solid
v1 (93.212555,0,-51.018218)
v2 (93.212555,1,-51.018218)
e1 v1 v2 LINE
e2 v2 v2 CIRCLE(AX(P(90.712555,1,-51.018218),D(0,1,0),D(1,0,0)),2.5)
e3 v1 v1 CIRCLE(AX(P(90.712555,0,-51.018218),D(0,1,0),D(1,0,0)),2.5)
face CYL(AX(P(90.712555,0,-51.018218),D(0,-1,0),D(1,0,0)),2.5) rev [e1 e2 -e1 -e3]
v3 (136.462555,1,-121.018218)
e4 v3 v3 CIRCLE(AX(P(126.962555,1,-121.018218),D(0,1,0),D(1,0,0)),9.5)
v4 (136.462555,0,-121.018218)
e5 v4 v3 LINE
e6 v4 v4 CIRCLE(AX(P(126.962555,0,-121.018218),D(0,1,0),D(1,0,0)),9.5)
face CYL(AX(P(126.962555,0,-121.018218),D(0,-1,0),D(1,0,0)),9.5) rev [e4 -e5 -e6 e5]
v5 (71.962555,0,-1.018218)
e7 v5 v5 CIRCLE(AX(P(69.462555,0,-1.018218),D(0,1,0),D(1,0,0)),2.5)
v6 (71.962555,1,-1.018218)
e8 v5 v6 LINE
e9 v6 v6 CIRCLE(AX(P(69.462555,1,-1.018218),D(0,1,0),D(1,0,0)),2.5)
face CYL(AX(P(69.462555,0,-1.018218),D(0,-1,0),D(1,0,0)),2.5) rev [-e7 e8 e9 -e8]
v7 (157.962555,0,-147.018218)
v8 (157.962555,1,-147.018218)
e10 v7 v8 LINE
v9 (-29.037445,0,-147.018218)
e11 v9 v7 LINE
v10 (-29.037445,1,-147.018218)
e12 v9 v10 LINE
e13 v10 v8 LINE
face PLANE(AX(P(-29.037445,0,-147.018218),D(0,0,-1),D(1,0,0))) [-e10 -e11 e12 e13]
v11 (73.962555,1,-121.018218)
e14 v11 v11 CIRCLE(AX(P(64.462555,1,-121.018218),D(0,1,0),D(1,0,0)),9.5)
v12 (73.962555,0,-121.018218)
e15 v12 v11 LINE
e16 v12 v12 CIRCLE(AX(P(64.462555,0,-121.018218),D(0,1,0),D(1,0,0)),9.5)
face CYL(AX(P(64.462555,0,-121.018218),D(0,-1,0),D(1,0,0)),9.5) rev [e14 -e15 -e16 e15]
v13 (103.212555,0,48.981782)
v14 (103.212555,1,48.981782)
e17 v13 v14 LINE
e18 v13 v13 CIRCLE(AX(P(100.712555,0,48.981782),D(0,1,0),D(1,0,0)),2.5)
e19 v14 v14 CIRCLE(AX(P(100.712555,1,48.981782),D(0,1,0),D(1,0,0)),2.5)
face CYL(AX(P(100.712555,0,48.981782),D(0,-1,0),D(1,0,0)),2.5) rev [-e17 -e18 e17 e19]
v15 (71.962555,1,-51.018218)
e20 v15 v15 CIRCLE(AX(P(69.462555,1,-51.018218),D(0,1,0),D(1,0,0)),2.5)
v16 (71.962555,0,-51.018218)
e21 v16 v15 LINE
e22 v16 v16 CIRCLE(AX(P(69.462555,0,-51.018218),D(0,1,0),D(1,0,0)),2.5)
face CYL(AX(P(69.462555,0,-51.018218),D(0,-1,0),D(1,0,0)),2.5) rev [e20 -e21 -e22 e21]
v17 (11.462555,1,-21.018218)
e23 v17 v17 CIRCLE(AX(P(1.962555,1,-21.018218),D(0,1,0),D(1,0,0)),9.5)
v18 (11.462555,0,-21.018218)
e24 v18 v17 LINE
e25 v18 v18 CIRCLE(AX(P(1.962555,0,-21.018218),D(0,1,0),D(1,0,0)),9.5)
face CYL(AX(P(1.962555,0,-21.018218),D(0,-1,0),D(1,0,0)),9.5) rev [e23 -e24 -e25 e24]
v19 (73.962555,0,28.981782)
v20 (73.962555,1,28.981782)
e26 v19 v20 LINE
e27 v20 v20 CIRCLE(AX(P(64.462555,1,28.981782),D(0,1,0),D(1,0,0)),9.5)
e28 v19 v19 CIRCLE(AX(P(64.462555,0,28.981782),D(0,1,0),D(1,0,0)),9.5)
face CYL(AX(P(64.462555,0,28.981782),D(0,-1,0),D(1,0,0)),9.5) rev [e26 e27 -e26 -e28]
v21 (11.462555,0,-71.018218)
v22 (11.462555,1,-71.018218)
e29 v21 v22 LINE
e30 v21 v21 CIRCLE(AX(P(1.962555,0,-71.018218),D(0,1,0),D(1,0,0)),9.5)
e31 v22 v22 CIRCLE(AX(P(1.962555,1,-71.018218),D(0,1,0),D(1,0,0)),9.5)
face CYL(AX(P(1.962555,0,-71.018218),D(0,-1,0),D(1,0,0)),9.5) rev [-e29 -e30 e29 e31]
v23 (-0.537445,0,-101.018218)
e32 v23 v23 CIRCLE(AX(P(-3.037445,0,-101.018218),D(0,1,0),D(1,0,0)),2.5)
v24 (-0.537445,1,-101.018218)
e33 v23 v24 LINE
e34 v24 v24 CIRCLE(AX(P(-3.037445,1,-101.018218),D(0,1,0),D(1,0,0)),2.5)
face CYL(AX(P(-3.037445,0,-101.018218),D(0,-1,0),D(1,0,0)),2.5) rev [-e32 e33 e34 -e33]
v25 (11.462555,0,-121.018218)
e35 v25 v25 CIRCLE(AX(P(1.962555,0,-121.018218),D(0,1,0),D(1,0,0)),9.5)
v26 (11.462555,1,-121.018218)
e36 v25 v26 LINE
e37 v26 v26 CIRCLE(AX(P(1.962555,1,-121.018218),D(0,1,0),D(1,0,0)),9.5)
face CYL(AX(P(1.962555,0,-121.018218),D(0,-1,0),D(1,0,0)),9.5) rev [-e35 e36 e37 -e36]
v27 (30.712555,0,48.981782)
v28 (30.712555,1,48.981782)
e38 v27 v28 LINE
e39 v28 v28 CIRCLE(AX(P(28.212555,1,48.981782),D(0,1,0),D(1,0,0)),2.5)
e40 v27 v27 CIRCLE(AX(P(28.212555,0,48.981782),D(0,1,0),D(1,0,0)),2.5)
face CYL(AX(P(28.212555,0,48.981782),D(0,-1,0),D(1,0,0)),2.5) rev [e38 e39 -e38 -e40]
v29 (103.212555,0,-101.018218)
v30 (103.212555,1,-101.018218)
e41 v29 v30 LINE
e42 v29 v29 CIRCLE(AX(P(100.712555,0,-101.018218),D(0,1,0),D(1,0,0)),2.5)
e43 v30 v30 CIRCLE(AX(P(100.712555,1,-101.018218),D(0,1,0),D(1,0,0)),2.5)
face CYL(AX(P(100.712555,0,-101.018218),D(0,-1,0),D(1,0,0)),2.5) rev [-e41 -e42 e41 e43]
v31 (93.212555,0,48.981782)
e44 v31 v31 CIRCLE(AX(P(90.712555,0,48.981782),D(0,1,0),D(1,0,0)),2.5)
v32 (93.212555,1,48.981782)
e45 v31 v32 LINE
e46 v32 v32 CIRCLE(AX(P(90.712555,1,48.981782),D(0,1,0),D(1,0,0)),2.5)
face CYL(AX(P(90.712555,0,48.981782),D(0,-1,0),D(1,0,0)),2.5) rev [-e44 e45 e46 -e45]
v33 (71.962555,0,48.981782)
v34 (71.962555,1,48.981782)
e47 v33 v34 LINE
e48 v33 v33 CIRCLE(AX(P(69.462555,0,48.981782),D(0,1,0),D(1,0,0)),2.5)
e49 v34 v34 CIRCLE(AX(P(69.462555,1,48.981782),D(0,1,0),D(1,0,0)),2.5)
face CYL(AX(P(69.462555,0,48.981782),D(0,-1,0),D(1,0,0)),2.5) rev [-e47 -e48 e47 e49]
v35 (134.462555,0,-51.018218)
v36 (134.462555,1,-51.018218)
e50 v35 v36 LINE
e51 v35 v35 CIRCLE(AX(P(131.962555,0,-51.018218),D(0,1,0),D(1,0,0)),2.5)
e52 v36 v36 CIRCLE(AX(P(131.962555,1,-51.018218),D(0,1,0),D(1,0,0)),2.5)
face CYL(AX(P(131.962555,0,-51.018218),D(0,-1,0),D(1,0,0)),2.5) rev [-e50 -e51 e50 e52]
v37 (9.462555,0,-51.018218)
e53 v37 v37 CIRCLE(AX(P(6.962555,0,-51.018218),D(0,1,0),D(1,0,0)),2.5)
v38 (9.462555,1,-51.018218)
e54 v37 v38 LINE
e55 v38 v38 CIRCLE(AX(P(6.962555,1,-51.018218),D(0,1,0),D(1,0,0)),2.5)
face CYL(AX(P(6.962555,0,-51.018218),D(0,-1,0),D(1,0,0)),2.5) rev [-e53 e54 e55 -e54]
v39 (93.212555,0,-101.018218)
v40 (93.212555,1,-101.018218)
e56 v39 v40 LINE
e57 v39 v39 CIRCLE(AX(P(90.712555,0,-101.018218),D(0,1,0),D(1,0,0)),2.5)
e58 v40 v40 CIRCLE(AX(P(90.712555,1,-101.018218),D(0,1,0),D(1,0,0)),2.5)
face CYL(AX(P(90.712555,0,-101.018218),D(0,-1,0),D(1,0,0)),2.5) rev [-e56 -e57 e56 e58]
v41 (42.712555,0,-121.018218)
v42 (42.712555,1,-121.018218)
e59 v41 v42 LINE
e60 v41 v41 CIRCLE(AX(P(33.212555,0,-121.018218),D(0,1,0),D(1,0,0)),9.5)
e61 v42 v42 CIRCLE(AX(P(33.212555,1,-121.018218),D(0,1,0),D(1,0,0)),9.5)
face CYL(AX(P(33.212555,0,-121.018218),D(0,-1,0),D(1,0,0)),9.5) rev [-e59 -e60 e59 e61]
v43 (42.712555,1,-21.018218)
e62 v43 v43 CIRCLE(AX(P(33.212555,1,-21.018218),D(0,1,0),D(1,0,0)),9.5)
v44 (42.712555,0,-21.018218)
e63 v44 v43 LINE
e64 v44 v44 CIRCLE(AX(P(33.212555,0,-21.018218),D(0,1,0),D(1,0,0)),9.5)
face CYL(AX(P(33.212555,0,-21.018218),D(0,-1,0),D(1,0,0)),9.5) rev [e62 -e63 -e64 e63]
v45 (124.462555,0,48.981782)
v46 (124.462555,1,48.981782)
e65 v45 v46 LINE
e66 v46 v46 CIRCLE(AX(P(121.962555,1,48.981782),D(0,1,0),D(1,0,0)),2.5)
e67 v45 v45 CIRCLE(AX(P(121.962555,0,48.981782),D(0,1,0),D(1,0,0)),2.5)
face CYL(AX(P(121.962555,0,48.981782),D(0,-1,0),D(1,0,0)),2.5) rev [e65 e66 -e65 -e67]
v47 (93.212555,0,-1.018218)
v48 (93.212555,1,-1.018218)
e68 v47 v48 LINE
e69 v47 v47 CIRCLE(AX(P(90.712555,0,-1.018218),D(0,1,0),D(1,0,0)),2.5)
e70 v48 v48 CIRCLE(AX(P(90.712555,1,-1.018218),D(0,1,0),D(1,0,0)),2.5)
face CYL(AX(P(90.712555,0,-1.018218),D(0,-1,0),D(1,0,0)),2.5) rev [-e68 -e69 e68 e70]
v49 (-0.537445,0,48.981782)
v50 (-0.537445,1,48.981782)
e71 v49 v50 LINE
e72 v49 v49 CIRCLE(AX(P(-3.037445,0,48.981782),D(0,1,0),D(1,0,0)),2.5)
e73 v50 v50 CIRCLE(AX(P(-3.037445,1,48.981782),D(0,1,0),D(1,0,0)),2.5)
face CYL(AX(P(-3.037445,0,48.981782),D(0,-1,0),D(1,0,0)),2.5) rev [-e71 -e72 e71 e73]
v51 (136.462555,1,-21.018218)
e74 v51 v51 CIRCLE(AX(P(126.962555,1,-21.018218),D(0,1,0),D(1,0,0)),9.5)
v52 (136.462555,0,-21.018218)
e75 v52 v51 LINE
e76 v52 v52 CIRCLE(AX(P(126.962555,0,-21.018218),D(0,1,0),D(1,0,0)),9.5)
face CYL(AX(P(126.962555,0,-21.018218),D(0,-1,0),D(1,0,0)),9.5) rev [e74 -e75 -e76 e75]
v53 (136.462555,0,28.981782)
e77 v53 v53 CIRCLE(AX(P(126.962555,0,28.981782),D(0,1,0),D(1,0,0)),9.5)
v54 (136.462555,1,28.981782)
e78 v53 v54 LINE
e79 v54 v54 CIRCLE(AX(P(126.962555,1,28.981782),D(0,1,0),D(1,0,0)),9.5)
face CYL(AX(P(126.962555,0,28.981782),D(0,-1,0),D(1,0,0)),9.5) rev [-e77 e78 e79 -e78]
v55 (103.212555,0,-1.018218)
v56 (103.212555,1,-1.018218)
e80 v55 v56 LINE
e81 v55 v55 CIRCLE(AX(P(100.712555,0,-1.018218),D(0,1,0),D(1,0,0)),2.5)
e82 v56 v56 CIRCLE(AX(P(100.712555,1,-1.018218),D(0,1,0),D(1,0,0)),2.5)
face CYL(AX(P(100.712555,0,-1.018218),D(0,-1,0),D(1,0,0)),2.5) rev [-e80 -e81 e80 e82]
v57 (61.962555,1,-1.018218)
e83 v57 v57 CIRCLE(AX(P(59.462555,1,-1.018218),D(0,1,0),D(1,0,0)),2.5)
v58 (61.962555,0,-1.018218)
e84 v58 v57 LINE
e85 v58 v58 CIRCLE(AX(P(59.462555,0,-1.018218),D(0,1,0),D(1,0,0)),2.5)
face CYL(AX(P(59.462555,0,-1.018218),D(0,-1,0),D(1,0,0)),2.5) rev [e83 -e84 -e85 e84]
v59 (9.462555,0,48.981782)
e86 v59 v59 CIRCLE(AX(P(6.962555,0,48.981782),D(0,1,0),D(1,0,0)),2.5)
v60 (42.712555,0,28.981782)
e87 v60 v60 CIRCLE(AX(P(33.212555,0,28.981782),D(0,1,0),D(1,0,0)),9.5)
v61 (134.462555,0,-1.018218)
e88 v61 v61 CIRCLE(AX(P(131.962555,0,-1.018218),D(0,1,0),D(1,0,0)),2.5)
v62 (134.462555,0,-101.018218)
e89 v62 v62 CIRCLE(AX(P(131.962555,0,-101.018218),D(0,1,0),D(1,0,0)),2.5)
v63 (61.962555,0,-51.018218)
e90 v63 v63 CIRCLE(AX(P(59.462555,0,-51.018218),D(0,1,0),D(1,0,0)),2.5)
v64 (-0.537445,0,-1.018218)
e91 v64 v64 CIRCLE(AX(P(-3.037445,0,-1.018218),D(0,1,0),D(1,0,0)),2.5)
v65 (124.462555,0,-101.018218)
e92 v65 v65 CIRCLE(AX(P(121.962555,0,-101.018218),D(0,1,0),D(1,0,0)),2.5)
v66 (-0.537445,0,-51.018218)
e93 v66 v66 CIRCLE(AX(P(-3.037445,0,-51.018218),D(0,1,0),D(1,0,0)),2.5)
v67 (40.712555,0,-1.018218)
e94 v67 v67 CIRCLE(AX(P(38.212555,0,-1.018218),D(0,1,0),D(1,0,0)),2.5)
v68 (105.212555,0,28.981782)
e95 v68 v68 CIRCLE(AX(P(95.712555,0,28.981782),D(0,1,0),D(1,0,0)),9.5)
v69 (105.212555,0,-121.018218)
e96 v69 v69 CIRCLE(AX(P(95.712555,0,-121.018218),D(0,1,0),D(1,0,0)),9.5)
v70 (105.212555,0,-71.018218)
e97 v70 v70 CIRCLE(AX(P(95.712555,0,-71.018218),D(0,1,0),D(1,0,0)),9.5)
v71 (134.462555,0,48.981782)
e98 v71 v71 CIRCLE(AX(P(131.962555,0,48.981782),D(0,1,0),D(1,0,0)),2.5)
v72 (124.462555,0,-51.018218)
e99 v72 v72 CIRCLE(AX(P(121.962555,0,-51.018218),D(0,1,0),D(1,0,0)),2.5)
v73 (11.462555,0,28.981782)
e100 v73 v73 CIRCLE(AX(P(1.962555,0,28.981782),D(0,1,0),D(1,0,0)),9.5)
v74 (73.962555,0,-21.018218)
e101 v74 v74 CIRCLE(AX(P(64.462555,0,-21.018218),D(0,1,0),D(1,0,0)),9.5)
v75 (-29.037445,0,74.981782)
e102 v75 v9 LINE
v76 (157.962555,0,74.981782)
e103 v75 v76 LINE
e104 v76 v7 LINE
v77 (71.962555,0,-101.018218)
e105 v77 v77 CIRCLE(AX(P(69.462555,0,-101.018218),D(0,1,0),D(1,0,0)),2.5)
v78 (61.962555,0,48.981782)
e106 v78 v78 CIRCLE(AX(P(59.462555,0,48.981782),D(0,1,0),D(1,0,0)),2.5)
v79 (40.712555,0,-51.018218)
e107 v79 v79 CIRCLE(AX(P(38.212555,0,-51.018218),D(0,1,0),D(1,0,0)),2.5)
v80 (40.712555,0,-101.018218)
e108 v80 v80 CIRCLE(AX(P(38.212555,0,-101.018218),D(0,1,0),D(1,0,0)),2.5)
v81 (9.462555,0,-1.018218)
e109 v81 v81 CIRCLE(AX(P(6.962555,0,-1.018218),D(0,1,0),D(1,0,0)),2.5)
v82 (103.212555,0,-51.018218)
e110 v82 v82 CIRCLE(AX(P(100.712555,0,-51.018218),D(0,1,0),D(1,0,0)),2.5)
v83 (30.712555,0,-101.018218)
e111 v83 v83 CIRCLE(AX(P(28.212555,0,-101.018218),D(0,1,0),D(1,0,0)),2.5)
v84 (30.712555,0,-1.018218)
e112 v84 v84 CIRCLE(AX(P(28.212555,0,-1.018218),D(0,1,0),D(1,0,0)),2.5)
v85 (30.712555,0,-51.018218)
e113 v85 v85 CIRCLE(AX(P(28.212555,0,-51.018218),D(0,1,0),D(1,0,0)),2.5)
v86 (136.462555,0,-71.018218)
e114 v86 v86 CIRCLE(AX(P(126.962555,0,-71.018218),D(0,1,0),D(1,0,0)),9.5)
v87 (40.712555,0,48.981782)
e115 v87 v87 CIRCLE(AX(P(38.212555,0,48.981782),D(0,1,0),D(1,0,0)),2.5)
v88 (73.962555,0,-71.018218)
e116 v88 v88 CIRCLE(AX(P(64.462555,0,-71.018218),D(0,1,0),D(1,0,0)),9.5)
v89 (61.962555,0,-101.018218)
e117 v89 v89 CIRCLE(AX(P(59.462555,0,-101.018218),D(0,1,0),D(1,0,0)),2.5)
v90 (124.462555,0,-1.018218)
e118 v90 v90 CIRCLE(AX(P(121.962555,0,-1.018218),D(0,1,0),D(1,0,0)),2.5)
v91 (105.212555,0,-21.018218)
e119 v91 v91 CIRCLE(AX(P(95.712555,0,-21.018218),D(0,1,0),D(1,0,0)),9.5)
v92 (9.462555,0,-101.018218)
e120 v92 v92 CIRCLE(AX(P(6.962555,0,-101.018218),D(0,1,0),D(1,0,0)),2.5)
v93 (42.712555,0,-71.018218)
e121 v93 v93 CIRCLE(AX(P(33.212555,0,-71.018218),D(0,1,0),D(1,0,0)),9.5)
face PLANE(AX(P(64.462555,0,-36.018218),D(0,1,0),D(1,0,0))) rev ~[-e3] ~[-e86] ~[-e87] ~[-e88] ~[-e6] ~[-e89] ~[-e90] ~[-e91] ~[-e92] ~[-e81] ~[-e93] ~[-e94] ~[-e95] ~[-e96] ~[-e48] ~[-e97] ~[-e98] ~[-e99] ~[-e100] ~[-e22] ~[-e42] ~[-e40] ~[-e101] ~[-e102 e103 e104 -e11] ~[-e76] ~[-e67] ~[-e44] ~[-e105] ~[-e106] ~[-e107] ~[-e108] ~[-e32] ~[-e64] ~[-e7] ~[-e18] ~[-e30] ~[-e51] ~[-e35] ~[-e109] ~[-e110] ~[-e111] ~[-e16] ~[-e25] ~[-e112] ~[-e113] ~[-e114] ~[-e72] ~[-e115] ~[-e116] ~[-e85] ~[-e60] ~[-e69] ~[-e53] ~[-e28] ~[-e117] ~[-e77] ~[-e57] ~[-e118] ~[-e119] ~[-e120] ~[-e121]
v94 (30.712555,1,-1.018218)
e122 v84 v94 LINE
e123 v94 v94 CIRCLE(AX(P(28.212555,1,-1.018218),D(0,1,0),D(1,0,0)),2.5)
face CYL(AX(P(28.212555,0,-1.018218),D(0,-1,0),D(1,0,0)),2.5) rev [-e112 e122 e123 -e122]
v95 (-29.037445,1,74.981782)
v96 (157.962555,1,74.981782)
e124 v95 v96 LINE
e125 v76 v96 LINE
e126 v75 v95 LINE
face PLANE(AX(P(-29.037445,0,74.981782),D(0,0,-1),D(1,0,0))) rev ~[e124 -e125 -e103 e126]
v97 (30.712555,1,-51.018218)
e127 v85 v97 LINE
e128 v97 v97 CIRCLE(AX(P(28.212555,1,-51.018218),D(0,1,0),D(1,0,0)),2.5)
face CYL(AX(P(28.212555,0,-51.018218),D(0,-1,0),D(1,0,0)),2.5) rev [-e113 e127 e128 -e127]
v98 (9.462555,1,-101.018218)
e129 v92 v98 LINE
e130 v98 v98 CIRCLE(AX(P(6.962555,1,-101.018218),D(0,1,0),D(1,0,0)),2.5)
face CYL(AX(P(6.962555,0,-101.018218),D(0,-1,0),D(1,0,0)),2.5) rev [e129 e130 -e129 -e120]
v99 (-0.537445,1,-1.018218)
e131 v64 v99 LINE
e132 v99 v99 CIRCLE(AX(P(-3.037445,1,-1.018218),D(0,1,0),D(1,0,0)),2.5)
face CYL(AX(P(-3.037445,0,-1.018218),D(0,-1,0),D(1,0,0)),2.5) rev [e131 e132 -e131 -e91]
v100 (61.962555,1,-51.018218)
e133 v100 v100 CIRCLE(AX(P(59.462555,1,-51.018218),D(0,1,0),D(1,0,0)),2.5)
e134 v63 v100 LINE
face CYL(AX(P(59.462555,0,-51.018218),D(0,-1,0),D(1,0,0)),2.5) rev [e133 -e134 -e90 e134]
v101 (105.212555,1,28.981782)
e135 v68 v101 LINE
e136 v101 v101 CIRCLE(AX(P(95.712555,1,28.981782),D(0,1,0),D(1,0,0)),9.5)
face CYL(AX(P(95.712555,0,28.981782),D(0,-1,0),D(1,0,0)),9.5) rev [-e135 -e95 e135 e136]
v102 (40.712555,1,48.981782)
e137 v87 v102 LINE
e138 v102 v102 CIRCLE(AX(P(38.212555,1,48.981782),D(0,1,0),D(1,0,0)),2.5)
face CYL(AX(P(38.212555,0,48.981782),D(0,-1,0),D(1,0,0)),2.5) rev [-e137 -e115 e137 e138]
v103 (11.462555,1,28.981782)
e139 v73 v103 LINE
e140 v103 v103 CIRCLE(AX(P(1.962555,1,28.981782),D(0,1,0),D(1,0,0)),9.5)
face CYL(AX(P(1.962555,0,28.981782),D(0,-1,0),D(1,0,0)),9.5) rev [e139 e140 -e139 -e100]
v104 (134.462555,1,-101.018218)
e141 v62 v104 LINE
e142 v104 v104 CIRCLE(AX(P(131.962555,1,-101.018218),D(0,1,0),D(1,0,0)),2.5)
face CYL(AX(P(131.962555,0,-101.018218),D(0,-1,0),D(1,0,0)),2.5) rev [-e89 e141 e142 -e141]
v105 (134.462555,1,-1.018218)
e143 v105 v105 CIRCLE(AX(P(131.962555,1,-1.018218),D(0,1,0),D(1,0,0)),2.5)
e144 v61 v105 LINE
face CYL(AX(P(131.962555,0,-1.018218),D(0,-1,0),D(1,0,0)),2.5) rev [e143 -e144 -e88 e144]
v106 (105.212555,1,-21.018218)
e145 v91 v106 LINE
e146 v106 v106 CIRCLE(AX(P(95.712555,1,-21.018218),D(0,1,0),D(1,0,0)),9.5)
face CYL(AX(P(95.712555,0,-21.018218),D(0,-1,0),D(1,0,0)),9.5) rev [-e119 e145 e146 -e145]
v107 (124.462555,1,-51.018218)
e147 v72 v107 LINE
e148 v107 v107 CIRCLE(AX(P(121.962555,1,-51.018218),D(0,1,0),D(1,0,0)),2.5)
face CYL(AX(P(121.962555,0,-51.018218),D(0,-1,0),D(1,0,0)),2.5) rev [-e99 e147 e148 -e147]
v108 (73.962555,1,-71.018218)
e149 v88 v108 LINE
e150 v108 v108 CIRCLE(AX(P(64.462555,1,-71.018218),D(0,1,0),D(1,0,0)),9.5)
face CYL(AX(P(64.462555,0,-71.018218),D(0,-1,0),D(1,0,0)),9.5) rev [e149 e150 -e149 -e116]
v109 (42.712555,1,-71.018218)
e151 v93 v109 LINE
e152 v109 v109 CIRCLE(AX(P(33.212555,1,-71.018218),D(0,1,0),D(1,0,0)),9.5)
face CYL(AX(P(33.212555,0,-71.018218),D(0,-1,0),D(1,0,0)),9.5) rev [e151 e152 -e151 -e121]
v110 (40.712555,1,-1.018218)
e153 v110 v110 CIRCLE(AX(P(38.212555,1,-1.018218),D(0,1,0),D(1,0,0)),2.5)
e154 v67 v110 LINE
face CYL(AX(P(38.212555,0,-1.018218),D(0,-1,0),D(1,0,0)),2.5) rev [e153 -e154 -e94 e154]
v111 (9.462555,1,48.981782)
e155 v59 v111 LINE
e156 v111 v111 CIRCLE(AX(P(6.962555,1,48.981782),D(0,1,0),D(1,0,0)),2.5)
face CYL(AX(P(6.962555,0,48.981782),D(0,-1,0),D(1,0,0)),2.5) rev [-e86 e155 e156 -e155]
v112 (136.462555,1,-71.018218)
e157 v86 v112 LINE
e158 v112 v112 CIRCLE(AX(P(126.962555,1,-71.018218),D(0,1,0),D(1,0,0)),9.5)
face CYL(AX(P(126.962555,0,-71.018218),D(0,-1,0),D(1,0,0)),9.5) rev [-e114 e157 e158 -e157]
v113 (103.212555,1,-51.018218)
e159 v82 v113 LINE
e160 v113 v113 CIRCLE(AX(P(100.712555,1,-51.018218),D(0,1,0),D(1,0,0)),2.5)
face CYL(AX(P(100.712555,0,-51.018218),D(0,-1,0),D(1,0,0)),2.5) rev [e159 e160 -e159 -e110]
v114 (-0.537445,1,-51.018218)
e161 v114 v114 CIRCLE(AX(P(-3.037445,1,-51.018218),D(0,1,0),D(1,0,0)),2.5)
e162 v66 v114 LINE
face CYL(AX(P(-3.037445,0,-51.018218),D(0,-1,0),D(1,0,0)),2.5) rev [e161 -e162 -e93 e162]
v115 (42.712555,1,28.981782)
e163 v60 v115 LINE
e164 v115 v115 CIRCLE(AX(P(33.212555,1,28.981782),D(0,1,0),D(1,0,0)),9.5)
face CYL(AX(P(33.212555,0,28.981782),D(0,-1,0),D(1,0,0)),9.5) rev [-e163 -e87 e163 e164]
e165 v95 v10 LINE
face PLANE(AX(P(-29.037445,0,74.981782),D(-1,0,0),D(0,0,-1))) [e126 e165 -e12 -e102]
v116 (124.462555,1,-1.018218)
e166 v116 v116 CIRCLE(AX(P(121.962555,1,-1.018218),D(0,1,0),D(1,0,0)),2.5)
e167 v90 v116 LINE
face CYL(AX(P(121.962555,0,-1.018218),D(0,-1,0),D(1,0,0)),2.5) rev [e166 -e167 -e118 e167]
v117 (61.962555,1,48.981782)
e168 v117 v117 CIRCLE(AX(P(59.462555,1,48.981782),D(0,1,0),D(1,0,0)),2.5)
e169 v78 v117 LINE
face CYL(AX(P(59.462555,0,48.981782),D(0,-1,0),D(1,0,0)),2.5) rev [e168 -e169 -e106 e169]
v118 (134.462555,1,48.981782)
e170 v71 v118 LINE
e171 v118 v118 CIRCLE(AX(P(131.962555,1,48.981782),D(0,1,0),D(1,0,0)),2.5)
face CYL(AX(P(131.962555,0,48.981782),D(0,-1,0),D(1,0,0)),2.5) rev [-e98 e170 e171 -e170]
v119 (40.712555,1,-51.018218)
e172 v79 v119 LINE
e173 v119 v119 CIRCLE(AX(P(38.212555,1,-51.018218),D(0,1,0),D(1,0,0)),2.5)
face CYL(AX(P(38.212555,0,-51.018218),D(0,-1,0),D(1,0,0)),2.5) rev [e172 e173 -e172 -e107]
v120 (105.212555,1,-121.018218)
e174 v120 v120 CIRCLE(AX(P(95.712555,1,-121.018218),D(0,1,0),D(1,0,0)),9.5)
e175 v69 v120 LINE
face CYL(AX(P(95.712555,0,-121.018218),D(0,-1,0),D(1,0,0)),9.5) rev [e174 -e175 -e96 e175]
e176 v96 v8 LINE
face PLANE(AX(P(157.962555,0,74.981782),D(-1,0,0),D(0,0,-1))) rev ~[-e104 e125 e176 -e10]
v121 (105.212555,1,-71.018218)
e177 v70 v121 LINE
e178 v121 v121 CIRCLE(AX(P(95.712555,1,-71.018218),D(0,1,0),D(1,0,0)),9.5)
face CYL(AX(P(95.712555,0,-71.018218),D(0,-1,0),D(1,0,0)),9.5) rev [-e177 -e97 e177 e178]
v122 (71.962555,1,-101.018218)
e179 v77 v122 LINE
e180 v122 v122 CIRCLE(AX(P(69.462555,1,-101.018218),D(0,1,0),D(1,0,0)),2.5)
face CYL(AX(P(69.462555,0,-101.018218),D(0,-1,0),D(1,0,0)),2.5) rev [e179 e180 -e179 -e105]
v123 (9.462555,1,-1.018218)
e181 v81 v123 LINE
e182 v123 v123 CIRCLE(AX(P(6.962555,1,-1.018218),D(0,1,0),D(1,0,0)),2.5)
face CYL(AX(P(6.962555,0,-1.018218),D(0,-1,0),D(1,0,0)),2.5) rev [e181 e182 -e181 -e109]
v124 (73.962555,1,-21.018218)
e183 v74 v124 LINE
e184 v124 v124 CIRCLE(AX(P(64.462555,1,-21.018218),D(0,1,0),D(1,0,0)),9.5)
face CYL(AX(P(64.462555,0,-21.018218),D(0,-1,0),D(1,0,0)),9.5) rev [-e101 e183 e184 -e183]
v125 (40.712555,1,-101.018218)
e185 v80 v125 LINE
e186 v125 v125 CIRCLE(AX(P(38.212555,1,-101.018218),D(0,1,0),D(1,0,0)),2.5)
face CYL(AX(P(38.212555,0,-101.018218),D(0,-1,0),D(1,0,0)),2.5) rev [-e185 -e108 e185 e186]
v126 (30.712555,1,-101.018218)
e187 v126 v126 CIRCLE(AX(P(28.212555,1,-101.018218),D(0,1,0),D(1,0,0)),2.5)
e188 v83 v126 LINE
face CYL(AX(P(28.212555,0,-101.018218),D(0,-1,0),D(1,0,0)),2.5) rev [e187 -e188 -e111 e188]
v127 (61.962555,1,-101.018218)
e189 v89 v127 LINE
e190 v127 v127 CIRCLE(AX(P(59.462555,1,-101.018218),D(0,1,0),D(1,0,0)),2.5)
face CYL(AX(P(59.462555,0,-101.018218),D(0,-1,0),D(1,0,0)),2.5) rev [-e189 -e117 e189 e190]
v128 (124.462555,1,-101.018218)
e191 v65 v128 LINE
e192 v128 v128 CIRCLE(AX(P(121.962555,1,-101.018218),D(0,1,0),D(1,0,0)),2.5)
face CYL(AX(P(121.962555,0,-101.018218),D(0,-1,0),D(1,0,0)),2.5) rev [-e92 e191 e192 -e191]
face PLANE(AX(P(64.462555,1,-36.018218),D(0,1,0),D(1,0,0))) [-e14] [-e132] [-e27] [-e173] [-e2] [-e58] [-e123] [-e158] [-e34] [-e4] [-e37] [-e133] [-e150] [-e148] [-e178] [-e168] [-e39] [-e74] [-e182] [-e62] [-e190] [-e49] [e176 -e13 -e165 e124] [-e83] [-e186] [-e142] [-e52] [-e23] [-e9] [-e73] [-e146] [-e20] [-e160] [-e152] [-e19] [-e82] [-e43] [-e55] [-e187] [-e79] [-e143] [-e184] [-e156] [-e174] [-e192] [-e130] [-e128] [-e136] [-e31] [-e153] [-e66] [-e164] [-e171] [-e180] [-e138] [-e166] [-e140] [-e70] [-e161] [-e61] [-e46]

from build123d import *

# Parameters (mm, degrees)
SKETCH1_W           = 187
SKETCH1_H           = 222
SKETCH1_R           = 2.5
SKETCH1_R_2         = 9.5
BOSS_EXTRUDE1_DEPTH = 1


with BuildPart() as part:
    # Sketch1 → Boss-Extrude1 (new body)
    with BuildSketch(Plane(origin=(0, 0, 0), x_dir=(1, 0, 0), z_dir=(0, 1, 0))):
        with Locations((64.462554676, 36.018217652)):
            Rectangle(SKETCH1_W, SKETCH1_H)
        with Locations((-3.037445324, -48.981782348)):
            Circle(SKETCH1_R, mode=Mode.SUBTRACT)
        with Locations((6.962554676, -48.981782348)):
            Circle(SKETCH1_R, mode=Mode.SUBTRACT)
        with Locations((28.212554676, -48.981782348)):
            Circle(SKETCH1_R, mode=Mode.SUBTRACT)
        with Locations((38.212554676, -48.981782348)):
            Circle(SKETCH1_R, mode=Mode.SUBTRACT)
        with Locations((1.962554676, -28.981782348)):
            Circle(SKETCH1_R_2, mode=Mode.SUBTRACT)
        with Locations((33.212554676, -28.981782348)):
            Circle(SKETCH1_R_2, mode=Mode.SUBTRACT)
        with Locations((59.462554676, -48.981782348)):
            Circle(SKETCH1_R, mode=Mode.SUBTRACT)
        with Locations((69.462554676, -48.981782348)):
            Circle(SKETCH1_R, mode=Mode.SUBTRACT)
        with Locations((64.462554676, -28.981782348)):
            Circle(SKETCH1_R_2, mode=Mode.SUBTRACT)
        with Locations((90.712554676, -48.981782348)):
            Circle(SKETCH1_R, mode=Mode.SUBTRACT)
        with Locations((100.712554676, -48.981782348)):
            Circle(SKETCH1_R, mode=Mode.SUBTRACT)
        with Locations((95.712554676, -28.981782348)):
            Circle(SKETCH1_R_2, mode=Mode.SUBTRACT)
        with Locations((121.962554676, -48.981782348)):
            Circle(SKETCH1_R, mode=Mode.SUBTRACT)
        with Locations((131.962554676, -48.981782348)):
            Circle(SKETCH1_R, mode=Mode.SUBTRACT)
        with Locations((126.962554676, -28.981782348)):
            Circle(SKETCH1_R_2, mode=Mode.SUBTRACT)
        with Locations((-3.037445324, 1.018217652)):
            Circle(SKETCH1_R, mode=Mode.SUBTRACT)
        with Locations((6.962554676, 1.018217652)):
            Circle(SKETCH1_R, mode=Mode.SUBTRACT)
        with Locations((1.962554676, 21.018217652)):
            Circle(SKETCH1_R_2, mode=Mode.SUBTRACT)
        with Locations((28.212554676, 1.018217652)):
            Circle(SKETCH1_R, mode=Mode.SUBTRACT)
        with Locations((38.212554676, 1.018217652)):
            Circle(SKETCH1_R, mode=Mode.SUBTRACT)
        with Locations((33.212554676, 21.018217652)):
            Circle(SKETCH1_R_2, mode=Mode.SUBTRACT)
        with Locations((59.462554676, 1.018217652)):
            Circle(SKETCH1_R, mode=Mode.SUBTRACT)
        with Locations((69.462554676, 1.018217652)):
            Circle(SKETCH1_R, mode=Mode.SUBTRACT)
        with Locations((64.462554676, 21.018217652)):
            Circle(SKETCH1_R_2, mode=Mode.SUBTRACT)
        with Locations((90.712554676, 1.018217652)):
            Circle(SKETCH1_R, mode=Mode.SUBTRACT)
        with Locations((100.712554676, 1.018217652)):
            Circle(SKETCH1_R, mode=Mode.SUBTRACT)
        with Locations((95.712554676, 21.018217652)):
            Circle(SKETCH1_R_2, mode=Mode.SUBTRACT)
        with Locations((121.962554676, 1.018217652)):
            Circle(SKETCH1_R, mode=Mode.SUBTRACT)
        with Locations((131.962554676, 1.018217652)):
            Circle(SKETCH1_R, mode=Mode.SUBTRACT)
        with Locations((126.962554676, 21.018217652)):
            Circle(SKETCH1_R_2, mode=Mode.SUBTRACT)
        with Locations((-3.037445324, 51.018217652)):
            Circle(SKETCH1_R, mode=Mode.SUBTRACT)
        with Locations((6.962554676, 51.018217652)):
            Circle(SKETCH1_R, mode=Mode.SUBTRACT)
        with Locations((1.962554676, 71.018217652)):
            Circle(SKETCH1_R_2, mode=Mode.SUBTRACT)
        with Locations((28.212554676, 51.018217652)):
            Circle(SKETCH1_R, mode=Mode.SUBTRACT)
        with Locations((38.212554676, 51.018217652)):
            Circle(SKETCH1_R, mode=Mode.SUBTRACT)
        with Locations((33.212554676, 71.018217652)):
            Circle(SKETCH1_R_2, mode=Mode.SUBTRACT)
        with Locations((59.462554676, 51.018217652)):
            Circle(SKETCH1_R, mode=Mode.SUBTRACT)
        with Locations((69.462554676, 51.018217652)):
            Circle(SKETCH1_R, mode=Mode.SUBTRACT)
        with Locations((64.462554676, 71.018217652)):
            Circle(SKETCH1_R_2, mode=Mode.SUBTRACT)
        with Locations((90.712554676, 51.018217652)):
            Circle(SKETCH1_R, mode=Mode.SUBTRACT)
        with Locations((100.712554676, 51.018217652)):
            Circle(SKETCH1_R, mode=Mode.SUBTRACT)
        with Locations((95.712554676, 71.018217652)):
            Circle(SKETCH1_R_2, mode=Mode.SUBTRACT)
        with Locations((121.962554676, 51.018217652)):
            Circle(SKETCH1_R, mode=Mode.SUBTRACT)
        with Locations((131.962554676, 51.018217652)):
            Circle(SKETCH1_R, mode=Mode.SUBTRACT)
        with Locations((126.962554676, 71.018217652)):
            Circle(SKETCH1_R_2, mode=Mode.SUBTRACT)
        with Locations((-3.037445324, 101.018217652)):
            Circle(SKETCH1_R, mode=Mode.SUBTRACT)
        with Locations((6.962554676, 101.018217652)):
            Circle(SKETCH1_R, mode=Mode.SUBTRACT)
        with Locations((1.962554676, 121.018217652)):
            Circle(SKETCH1_R_2, mode=Mode.SUBTRACT)
        with Locations((28.212554676, 101.018217652)):
            Circle(SKETCH1_R, mode=Mode.SUBTRACT)
        with Locations((38.212554676, 101.018217652)):
            Circle(SKETCH1_R, mode=Mode.SUBTRACT)
        with Locations((33.212554676, 121.018217652)):
            Circle(SKETCH1_R_2, mode=Mode.SUBTRACT)
        with Locations((59.462554676, 101.018217652)):
            Circle(SKETCH1_R, mode=Mode.SUBTRACT)
        with Locations((69.462554676, 101.018217652)):
            Circle(SKETCH1_R, mode=Mode.SUBTRACT)
        with Locations((64.462554676, 121.018217652)):
            Circle(SKETCH1_R_2, mode=Mode.SUBTRACT)
        with Locations((90.712554676, 101.018217652)):
            Circle(SKETCH1_R, mode=Mode.SUBTRACT)
        with Locations((100.712554676, 101.018217652)):
            Circle(SKETCH1_R, mode=Mode.SUBTRACT)
        with Locations((95.712554676, 121.018217652)):
            Circle(SKETCH1_R_2, mode=Mode.SUBTRACT)
        with Locations((121.962554676, 101.018217652)):
            Circle(SKETCH1_R, mode=Mode.SUBTRACT)
        with Locations((131.962554676, 101.018217652)):
            Circle(SKETCH1_R, mode=Mode.SUBTRACT)
        with Locations((126.962554676, 121.018217652)):
            Circle(SKETCH1_R_2, mode=Mode.SUBTRACT)
    extrude(amount=BOSS_EXTRUDE1_DEPTH)


solid = part.part
